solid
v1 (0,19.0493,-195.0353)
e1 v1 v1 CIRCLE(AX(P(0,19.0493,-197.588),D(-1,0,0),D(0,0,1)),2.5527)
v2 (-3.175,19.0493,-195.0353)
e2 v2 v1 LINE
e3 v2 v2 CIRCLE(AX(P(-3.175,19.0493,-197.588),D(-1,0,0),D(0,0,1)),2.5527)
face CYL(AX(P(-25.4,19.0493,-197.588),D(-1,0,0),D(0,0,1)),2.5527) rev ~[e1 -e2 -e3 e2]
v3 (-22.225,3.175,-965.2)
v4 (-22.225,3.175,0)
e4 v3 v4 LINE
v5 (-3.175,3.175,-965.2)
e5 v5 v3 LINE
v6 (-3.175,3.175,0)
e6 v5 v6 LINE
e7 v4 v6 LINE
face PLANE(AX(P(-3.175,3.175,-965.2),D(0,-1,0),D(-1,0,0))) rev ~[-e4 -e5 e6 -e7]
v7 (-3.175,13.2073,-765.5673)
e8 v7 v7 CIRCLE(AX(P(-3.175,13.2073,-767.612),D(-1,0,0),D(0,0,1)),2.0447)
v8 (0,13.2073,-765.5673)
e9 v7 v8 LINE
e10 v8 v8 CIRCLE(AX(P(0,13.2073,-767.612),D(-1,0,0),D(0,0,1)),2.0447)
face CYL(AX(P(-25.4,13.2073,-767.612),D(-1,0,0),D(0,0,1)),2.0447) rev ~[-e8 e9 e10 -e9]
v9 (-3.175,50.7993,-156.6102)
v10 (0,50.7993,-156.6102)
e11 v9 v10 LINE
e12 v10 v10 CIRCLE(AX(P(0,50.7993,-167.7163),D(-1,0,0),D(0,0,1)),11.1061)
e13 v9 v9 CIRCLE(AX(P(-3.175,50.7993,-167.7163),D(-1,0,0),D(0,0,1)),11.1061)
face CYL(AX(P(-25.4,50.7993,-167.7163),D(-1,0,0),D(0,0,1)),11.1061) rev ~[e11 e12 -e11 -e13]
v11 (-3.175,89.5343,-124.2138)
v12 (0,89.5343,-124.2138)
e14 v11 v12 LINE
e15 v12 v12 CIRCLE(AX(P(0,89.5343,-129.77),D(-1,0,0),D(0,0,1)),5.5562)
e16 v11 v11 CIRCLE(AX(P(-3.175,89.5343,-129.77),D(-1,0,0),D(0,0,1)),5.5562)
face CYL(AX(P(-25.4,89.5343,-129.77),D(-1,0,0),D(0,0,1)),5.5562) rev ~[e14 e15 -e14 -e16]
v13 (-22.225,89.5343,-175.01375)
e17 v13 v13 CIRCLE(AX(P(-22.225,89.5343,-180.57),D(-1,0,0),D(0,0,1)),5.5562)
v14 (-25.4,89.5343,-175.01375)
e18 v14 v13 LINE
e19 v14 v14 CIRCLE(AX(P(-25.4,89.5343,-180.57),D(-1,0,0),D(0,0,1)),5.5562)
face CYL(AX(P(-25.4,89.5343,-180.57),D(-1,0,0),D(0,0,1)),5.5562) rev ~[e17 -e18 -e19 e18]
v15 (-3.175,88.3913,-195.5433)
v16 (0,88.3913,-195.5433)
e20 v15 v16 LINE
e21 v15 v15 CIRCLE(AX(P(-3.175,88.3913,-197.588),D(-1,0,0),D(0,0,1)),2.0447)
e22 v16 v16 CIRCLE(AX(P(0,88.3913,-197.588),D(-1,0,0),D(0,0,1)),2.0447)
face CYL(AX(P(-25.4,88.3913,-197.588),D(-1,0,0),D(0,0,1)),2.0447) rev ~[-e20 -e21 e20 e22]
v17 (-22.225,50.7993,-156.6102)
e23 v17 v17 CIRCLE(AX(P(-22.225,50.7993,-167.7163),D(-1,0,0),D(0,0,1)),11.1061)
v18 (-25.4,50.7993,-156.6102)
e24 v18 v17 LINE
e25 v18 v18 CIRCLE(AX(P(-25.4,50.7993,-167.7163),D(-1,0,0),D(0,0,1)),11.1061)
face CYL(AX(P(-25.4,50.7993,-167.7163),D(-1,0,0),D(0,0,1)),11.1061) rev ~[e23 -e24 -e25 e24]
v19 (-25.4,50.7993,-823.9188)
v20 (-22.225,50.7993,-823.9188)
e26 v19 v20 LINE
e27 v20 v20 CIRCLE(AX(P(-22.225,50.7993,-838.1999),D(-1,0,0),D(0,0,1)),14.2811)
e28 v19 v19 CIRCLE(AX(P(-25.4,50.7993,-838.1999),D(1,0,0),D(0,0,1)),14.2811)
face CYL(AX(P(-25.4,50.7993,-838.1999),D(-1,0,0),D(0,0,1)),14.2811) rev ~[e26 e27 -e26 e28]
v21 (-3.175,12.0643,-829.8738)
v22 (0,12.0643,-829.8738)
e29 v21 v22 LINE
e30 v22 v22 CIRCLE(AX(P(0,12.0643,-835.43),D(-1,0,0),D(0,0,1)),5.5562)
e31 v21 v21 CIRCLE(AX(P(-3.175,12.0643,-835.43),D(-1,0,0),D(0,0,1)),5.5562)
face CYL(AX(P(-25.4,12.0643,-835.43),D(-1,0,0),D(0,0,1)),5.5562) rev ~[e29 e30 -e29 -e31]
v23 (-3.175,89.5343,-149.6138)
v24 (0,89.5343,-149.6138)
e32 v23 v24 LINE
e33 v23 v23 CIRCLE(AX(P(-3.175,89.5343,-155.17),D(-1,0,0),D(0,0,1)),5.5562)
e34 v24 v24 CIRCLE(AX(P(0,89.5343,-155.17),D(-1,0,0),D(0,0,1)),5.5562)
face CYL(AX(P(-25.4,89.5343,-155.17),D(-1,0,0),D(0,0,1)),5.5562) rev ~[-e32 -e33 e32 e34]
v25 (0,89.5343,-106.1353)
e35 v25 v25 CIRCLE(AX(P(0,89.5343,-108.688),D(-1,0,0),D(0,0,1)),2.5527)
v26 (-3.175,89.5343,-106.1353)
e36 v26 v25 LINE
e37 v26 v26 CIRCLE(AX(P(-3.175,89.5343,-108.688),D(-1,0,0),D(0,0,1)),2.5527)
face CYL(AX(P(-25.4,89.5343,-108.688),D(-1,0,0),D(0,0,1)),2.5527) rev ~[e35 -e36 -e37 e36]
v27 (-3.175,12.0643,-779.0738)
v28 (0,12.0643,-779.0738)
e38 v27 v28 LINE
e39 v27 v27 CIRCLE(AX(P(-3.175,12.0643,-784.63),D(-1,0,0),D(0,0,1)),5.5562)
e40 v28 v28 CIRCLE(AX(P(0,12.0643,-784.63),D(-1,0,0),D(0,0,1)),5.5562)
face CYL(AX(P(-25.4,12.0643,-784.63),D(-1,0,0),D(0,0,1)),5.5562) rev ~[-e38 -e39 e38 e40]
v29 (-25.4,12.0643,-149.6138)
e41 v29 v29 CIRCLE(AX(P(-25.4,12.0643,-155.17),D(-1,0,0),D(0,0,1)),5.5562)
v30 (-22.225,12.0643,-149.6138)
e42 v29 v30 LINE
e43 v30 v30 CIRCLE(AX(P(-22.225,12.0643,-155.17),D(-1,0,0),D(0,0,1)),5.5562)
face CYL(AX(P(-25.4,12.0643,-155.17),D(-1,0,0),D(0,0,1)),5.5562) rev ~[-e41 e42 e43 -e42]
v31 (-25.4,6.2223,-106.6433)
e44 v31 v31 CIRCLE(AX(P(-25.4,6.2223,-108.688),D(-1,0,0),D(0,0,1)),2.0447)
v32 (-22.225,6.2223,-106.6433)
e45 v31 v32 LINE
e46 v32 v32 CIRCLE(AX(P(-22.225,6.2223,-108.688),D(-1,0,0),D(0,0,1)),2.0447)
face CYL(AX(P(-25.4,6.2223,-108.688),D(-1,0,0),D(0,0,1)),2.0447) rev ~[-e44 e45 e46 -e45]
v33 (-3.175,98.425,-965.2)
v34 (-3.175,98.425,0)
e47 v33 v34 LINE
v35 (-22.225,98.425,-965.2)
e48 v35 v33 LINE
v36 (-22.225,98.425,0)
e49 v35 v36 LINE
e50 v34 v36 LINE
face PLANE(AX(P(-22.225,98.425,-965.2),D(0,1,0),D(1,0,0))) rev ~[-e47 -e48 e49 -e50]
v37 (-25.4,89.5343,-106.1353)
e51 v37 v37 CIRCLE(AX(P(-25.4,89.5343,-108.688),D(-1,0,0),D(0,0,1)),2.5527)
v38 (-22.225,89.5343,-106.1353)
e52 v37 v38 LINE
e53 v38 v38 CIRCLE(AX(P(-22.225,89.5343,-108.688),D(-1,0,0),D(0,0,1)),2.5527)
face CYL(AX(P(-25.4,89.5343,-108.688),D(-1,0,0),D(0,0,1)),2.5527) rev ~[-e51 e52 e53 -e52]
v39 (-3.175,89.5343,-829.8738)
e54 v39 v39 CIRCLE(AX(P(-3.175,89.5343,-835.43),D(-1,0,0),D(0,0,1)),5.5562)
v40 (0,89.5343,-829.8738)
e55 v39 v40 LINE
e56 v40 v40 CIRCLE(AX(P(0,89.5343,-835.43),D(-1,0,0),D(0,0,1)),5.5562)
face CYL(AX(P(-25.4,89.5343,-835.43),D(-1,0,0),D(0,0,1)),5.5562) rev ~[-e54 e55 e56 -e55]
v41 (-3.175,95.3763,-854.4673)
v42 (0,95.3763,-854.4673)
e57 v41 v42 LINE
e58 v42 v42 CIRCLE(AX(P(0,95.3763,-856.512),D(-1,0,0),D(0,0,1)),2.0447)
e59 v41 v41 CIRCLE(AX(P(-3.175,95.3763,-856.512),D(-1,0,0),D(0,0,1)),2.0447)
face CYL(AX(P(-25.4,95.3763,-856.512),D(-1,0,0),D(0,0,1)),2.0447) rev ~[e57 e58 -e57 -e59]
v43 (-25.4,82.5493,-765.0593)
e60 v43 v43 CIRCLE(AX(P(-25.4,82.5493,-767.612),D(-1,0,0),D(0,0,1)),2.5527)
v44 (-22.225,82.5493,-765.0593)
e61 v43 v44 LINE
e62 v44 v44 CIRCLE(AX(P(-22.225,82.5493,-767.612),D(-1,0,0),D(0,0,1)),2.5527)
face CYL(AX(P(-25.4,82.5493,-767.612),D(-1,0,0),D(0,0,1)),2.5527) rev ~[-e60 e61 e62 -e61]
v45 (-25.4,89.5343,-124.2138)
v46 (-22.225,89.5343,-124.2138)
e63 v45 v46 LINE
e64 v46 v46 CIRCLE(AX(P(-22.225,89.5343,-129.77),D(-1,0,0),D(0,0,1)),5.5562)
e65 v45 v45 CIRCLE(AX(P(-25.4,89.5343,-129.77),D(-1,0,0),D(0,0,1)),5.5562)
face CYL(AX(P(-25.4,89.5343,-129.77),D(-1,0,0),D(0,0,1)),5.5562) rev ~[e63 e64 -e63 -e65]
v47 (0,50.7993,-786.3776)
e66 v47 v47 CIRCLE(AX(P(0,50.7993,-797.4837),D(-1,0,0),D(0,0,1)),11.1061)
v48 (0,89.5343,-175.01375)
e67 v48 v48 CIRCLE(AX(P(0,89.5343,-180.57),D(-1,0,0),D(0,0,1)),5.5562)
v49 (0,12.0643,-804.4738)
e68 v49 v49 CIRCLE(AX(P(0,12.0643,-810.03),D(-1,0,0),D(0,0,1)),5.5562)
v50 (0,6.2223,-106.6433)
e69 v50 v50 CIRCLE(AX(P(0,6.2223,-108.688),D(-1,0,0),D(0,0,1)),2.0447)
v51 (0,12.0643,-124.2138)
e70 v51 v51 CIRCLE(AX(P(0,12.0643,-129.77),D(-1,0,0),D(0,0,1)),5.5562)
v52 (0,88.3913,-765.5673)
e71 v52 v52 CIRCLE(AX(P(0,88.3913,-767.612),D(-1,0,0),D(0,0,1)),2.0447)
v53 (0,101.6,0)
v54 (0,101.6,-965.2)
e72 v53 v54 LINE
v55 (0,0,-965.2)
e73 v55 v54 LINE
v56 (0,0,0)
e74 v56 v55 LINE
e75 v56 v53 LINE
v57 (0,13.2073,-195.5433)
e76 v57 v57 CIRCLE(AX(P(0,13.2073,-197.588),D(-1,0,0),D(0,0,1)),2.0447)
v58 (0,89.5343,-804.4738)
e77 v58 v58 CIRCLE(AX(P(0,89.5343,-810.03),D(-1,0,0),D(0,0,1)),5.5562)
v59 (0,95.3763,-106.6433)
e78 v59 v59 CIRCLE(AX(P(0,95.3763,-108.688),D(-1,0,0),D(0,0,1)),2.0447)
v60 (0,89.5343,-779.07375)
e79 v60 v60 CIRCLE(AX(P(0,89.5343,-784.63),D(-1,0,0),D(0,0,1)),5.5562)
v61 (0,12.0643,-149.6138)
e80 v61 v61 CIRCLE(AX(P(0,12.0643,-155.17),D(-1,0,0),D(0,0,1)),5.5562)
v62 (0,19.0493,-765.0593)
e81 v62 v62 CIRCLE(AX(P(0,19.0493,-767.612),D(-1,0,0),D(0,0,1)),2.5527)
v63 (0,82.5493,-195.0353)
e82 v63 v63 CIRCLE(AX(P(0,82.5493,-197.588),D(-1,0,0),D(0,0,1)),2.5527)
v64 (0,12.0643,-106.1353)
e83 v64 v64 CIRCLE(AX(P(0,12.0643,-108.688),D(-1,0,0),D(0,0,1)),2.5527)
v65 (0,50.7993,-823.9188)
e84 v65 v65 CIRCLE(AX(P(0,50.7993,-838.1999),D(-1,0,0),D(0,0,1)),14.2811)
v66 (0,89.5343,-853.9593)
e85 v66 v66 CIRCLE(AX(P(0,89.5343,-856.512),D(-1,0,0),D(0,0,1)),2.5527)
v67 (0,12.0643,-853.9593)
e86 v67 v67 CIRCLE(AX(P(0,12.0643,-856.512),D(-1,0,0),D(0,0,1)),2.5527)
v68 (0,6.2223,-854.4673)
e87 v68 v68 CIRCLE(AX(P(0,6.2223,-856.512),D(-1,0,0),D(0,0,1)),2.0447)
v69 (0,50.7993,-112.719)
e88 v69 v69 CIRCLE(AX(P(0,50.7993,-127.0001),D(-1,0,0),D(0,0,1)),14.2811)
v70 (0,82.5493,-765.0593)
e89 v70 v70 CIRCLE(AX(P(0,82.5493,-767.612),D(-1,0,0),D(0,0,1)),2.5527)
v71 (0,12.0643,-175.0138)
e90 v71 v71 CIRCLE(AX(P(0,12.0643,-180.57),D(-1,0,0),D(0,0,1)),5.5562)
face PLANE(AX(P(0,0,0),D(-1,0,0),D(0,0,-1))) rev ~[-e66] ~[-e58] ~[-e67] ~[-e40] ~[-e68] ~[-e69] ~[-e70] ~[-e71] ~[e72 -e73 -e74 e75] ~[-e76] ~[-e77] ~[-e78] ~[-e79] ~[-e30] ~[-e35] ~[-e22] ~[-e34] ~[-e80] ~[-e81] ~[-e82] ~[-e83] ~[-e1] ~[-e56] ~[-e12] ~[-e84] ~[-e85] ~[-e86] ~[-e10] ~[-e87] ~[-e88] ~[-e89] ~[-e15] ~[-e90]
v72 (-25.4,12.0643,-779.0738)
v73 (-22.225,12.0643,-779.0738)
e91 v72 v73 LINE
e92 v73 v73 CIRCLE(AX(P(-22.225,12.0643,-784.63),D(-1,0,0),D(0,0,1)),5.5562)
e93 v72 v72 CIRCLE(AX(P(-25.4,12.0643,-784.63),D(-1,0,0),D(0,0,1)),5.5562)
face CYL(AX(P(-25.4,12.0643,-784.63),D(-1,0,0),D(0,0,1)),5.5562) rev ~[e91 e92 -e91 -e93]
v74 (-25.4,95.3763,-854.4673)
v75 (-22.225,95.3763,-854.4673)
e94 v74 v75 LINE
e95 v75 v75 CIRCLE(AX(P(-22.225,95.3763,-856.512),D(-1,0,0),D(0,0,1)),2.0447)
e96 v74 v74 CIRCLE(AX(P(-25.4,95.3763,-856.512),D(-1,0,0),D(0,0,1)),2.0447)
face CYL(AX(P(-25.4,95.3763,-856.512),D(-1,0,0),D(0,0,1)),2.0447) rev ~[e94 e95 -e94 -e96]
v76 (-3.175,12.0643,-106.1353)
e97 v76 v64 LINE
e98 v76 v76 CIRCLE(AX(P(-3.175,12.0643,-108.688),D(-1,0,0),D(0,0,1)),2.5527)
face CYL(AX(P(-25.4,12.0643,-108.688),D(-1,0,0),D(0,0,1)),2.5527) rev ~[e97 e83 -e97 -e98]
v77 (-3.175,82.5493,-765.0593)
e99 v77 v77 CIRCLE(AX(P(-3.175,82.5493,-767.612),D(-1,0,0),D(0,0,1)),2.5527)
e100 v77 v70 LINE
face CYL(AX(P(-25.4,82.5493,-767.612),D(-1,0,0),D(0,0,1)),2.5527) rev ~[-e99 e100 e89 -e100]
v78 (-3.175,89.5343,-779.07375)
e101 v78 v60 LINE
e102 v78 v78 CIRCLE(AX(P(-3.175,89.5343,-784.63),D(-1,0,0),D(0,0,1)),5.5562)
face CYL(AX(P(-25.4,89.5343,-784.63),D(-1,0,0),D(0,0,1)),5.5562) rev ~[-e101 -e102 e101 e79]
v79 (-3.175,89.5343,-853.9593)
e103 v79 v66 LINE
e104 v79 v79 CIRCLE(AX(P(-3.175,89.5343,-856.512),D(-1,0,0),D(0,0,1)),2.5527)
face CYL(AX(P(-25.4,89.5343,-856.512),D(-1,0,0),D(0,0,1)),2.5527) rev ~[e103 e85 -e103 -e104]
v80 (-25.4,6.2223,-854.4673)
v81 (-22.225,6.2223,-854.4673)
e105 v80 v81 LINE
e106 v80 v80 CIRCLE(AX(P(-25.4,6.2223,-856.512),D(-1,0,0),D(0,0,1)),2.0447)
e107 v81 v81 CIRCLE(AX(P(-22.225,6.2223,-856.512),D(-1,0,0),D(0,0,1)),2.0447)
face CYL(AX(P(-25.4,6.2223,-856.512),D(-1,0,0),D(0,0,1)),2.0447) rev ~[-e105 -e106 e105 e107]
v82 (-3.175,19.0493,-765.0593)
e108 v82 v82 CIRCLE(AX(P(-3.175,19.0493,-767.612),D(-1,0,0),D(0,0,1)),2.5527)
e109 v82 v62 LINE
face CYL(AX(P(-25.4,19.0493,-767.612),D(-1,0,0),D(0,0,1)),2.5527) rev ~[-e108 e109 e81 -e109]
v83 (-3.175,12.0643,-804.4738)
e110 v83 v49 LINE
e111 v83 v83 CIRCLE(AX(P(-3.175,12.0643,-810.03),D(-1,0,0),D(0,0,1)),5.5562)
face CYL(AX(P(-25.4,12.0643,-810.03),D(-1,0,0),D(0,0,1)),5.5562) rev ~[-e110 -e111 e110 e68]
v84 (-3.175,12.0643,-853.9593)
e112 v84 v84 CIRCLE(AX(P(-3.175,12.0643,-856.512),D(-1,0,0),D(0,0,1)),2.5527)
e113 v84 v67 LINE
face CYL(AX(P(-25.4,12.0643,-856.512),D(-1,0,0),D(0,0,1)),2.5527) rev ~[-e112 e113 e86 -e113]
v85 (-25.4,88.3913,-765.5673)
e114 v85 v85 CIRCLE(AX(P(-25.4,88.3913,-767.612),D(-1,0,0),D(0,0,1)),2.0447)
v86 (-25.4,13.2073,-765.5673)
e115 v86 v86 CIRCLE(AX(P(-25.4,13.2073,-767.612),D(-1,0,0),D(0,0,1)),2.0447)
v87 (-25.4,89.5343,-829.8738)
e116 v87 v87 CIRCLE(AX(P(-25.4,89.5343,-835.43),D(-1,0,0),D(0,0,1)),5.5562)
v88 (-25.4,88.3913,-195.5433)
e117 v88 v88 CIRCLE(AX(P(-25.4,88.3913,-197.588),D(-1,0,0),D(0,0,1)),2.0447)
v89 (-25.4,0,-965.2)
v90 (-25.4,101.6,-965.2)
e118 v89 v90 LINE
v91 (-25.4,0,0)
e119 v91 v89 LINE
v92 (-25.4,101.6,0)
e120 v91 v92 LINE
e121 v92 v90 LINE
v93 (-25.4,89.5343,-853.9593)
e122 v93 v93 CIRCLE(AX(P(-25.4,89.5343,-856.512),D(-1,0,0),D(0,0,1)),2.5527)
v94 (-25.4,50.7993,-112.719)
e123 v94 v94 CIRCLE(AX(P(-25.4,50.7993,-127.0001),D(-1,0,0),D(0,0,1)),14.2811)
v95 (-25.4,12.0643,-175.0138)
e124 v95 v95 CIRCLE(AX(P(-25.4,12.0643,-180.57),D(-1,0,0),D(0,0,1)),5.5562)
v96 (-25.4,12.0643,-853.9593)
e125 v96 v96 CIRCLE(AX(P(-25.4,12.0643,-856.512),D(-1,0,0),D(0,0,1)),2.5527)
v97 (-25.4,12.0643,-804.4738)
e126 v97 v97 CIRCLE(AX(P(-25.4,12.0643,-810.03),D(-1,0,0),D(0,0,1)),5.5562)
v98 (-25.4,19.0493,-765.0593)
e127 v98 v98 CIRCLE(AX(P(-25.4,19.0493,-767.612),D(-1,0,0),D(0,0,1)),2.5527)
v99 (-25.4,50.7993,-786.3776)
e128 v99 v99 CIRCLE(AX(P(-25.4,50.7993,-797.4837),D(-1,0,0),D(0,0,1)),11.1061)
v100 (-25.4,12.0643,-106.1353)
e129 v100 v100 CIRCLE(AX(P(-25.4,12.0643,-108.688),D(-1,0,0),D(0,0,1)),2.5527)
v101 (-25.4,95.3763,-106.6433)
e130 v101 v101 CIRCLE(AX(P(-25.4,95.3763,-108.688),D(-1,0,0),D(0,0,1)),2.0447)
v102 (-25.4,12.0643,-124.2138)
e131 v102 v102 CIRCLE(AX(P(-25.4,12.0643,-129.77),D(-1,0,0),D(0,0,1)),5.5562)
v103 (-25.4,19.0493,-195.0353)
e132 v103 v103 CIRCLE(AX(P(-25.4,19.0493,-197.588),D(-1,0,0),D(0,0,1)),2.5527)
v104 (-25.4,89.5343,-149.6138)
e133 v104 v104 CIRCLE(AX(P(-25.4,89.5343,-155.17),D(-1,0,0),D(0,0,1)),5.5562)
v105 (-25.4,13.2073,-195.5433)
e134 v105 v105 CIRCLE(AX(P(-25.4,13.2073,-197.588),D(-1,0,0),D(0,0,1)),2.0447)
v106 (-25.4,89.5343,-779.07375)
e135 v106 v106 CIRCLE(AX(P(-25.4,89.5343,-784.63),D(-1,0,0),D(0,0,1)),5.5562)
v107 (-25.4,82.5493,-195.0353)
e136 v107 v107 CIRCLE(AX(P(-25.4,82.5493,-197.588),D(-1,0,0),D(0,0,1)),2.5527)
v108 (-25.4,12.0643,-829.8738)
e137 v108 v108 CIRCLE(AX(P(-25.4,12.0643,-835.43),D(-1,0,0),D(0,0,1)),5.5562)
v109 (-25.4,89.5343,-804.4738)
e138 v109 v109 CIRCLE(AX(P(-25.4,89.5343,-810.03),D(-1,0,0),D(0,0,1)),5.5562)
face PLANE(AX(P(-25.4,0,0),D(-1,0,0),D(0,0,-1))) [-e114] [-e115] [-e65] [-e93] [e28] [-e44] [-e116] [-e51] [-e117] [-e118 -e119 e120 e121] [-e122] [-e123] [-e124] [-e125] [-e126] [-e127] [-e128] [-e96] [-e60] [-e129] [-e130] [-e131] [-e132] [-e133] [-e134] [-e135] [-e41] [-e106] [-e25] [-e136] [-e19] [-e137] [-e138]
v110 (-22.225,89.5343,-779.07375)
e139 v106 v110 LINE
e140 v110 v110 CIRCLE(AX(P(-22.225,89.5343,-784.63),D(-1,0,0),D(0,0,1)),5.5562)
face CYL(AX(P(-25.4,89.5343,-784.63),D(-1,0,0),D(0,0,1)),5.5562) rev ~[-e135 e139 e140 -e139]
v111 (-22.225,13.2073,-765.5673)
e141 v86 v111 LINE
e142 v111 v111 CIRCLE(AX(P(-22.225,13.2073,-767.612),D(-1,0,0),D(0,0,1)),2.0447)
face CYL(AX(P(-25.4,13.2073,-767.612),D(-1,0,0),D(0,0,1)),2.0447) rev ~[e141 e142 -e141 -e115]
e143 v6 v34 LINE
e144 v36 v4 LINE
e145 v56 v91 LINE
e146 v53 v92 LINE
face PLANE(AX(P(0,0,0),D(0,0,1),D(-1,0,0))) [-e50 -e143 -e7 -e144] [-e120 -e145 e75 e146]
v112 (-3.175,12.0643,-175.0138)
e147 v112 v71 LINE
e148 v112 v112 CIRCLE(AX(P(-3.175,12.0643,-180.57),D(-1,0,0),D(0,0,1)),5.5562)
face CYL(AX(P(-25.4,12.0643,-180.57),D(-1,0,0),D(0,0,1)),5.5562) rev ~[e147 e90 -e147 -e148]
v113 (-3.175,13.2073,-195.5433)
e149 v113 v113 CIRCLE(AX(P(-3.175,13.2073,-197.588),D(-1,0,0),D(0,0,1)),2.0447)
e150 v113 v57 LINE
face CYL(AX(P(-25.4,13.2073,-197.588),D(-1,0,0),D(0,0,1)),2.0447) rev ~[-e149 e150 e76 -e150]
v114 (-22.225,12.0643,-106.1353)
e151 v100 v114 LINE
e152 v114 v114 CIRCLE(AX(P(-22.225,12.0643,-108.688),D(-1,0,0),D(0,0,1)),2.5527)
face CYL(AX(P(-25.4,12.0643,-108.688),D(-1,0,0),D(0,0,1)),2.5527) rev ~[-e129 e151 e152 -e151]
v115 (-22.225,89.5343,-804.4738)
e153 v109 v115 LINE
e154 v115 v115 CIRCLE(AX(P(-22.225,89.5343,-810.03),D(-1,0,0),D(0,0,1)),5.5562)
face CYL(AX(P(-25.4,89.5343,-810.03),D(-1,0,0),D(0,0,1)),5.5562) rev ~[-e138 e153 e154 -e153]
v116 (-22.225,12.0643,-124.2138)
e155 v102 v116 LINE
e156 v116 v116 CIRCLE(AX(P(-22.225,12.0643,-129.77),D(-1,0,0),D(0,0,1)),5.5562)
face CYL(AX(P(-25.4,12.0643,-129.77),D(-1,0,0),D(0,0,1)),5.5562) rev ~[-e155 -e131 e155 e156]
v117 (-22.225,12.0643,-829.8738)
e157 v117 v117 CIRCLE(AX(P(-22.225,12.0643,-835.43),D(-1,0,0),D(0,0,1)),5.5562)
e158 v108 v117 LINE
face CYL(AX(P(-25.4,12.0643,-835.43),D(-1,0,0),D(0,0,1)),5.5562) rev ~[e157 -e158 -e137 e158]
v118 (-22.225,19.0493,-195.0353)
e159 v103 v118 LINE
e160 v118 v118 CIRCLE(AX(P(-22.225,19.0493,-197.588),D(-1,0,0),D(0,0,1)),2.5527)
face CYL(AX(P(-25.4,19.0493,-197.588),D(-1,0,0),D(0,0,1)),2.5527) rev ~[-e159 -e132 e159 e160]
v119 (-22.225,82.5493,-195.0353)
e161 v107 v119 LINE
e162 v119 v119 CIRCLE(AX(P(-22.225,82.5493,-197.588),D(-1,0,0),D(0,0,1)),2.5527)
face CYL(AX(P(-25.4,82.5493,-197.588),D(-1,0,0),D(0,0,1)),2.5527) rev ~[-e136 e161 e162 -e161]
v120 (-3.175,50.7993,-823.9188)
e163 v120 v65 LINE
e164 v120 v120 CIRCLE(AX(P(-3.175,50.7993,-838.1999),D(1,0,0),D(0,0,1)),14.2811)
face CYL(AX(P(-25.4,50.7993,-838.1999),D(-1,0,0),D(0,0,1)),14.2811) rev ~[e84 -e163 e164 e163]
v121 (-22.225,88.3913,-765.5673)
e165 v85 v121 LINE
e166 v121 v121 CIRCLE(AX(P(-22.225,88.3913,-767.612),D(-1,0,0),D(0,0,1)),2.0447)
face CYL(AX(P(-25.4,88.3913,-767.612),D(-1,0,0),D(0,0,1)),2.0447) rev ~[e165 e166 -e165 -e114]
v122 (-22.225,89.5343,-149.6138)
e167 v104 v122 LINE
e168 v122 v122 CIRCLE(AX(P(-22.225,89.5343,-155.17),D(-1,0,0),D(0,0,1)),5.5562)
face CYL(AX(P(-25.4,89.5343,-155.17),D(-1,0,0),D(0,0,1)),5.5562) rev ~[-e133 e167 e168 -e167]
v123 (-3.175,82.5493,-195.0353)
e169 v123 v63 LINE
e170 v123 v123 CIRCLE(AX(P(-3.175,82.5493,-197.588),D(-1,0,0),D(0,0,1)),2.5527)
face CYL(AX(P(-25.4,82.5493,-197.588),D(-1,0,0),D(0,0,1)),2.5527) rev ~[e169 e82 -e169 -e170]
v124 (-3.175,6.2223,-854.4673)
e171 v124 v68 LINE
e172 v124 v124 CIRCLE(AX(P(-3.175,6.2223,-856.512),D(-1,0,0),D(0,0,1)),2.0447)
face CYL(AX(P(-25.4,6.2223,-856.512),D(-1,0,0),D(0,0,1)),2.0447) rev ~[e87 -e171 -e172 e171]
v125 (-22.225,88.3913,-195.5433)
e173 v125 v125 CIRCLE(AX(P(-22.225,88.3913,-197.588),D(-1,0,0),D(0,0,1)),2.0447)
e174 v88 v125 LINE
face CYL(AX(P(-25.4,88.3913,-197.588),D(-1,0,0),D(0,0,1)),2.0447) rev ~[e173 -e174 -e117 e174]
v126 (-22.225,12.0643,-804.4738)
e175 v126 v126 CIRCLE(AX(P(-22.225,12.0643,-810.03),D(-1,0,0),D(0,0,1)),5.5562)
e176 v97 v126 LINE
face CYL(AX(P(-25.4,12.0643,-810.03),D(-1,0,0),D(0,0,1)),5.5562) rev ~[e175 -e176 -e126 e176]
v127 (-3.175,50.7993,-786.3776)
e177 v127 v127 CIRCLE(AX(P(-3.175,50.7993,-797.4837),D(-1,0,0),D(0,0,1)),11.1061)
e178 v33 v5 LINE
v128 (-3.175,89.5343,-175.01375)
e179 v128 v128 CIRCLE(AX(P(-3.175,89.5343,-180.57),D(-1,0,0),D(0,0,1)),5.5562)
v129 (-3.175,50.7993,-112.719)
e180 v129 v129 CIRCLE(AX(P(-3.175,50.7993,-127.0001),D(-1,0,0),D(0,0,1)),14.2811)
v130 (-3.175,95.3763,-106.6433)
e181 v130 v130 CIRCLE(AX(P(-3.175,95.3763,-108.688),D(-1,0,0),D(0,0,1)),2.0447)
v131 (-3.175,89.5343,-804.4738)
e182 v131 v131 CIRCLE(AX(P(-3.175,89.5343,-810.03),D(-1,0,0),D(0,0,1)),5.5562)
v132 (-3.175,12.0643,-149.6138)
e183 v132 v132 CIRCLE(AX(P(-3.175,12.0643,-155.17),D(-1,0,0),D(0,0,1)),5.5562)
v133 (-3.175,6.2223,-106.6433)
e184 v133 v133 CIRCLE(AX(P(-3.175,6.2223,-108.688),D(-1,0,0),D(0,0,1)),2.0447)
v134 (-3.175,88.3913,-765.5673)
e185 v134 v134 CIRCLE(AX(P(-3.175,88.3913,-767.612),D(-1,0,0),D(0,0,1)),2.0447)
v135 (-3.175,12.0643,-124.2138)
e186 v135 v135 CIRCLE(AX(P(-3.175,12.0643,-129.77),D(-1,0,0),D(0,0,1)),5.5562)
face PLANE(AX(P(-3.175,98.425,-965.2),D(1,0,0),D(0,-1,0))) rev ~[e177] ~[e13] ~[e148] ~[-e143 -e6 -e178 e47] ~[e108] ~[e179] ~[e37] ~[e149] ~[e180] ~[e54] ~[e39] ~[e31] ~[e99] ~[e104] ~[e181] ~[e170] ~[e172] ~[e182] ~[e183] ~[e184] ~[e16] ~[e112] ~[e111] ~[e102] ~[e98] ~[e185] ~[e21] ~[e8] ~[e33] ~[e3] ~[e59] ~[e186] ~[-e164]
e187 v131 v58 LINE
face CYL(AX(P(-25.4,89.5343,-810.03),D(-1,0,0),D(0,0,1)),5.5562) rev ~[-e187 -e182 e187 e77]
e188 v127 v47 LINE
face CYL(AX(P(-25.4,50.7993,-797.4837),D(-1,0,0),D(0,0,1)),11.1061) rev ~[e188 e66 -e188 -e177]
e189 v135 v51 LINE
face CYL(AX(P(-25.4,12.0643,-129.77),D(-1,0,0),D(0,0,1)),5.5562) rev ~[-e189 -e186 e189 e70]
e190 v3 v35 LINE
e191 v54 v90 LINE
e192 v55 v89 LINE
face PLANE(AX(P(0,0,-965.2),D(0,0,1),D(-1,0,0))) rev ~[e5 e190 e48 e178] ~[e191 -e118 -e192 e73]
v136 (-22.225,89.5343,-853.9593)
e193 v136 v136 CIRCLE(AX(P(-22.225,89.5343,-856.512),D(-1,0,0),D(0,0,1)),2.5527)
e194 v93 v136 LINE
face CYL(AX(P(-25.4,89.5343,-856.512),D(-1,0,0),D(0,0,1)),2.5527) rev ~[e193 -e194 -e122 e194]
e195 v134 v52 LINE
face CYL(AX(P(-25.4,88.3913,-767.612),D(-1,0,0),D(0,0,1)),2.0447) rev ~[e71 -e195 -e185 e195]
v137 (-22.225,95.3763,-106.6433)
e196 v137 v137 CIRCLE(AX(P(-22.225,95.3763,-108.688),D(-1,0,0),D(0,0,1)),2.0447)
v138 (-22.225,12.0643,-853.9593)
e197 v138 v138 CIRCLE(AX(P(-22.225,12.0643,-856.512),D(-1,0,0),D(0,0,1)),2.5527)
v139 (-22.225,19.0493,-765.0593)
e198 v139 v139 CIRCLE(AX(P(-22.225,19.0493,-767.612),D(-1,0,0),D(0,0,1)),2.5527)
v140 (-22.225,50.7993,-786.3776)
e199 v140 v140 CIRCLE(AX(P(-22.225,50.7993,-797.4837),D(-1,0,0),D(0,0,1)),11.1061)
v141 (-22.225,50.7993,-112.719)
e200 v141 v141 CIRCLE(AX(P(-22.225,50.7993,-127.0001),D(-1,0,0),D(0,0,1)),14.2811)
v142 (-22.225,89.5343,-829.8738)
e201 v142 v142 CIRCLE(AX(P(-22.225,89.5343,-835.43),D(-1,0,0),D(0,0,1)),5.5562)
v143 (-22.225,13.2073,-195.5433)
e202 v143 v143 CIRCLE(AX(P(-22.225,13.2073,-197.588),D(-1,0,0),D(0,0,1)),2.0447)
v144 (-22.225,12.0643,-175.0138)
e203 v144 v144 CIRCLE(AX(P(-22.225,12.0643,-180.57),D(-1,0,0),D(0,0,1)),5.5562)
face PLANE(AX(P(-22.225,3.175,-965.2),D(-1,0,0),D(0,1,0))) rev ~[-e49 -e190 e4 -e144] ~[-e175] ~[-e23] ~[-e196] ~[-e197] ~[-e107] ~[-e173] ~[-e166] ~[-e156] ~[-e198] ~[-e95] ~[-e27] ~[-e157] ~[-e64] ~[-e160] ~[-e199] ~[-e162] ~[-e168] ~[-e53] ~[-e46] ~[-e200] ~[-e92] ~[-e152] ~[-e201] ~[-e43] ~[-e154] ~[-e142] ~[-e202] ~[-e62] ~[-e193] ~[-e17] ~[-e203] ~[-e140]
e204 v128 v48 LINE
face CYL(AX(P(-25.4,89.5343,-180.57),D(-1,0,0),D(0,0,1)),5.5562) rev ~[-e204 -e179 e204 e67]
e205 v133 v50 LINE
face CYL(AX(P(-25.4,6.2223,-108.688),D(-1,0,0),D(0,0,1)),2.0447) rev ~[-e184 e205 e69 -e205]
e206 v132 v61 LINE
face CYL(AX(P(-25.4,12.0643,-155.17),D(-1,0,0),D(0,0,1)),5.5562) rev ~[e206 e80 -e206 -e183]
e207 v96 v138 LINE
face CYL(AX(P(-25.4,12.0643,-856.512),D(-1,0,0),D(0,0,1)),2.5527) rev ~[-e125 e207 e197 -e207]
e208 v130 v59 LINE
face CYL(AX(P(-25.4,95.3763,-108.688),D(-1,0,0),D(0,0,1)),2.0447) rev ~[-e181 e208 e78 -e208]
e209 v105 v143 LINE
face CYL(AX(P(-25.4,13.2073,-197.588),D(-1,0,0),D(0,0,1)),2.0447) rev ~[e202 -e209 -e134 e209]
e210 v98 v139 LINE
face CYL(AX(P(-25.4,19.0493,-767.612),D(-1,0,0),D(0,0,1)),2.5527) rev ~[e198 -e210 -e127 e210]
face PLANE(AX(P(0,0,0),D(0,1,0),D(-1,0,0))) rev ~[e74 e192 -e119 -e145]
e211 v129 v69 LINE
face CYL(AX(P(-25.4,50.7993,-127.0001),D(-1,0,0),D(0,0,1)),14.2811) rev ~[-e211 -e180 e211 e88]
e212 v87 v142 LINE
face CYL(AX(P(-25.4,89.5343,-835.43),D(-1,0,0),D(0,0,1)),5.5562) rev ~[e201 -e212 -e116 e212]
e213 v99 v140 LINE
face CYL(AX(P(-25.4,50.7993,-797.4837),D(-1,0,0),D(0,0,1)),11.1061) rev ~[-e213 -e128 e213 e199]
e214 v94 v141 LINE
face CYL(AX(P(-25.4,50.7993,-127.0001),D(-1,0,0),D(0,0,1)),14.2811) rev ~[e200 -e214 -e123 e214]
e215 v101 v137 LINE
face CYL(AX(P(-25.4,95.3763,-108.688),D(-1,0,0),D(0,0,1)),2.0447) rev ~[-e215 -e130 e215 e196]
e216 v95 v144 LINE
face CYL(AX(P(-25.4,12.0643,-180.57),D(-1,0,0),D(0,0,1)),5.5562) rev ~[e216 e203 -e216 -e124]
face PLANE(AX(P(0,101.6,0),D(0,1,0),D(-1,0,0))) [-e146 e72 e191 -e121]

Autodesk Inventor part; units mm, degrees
ref_plane "YZ Plane" through (0, 0, 0) normal (1, 0, 0) x (0, 1, 0)
ref_plane "XZ Plane" through (0, 0, 0) normal (0, 1, 0) x (-1, 0, 0)
ref_plane "XY Plane" through (0, 0, 0) normal (0, 0, 1) x (1, 0, 0)
sketch "Sketch1" plane through (0, 0, 0) normal (0, 1, 0) x (-1, 0, 0)
  line L0 (0, 0) -> (0, -965.2)
  line L1 (0, -965.2) -> (25.4, -965.2)
  line L2 (0, 0) -> (25.4, 0)
  line L3 (25.4, 0) -> (25.4, -965.2)
  dimension "d0" = 965.2
  dimension "d1" = 25.4
  dimension "d2" = 25.4
  dimension "d3" = 965.2
extrude "Extrusion1" add sketch "Sketch1" along normal blind 101.6
sketch "Sketch2" plane through (0, 0, -965.2) normal (0, 0, -1) x (-1, 0, 0)
  line L0 (0, 101.6) -> (25.4, 101.6) projected
  line L1 (22.225, 98.425) -> (3.175, 98.425)
  line L2 (3.175, 98.425) -> (3.175, 3.175)
  line L3 (3.175, 3.175) -> (22.225, 3.175)
  line L4 (22.225, 3.175) -> (22.225, 98.425)
  point P0 (0, 0)
  dimension "d8" = 19.05
  dimension "d9" = 95.25
  dimension "d10" = 19.05
extrude "Extrusion2" cut sketch "Sketch2" against normal blind 2540
sketch "Sketch3" plane through (-25.4, 0, -965.2) normal (-1, 0, 0) x (0, 0, 1)
  line L0 (89.1033, 114.2993) -> (200.7415, 105.2475)
  arc A0 (206.5783, 98.9183) -> (200.7415, 105.2475) centre (200.2283, 98.9183) ccw
  line L1 (206.5783, 98.9183) -> (206.5783, 2.6802)
  arc A1 (200.7415, -3.649) -> (206.5783, 2.6802) centre (200.2283, 2.6802) ccw
  line L2 (200.7415, -3.649) -> (89.1033, -12.7007)
  line L3 (89.1033, -12.7007) -> (87.4523, -12.7007)
  line L4 (87.4523, 114.2993) -> (87.4523, -12.7007)
  line L5 (87.4523, 114.2993) -> (89.1033, 114.2993)
  circle A2 centre (108.688, 6.2223) radius 2.0447
  circle A3 centre (197.588, 88.3913) radius 2.0447
  circle A4 centre (108.688, 12.0643) radius 2.5527
  circle A5 centre (197.588, 82.5493) radius 2.5527
  circle A6 centre (180.57, 12.0643) radius 5.5562
  circle A7 centre (129.77, 12.0643) radius 5.5562
  circle A8 centre (180.57, 89.5343) radius 5.5562
  circle A9 centre (167.7163, 50.7993) radius 11.1061
  circle A10 centre (155.17, 89.5343) radius 5.5562
  circle A11 centre (129.77, 89.5343) radius 5.5562
  circle A12 centre (155.17, 12.0643) radius 5.5562
  circle A13 centre (127.0001, 50.7993) radius 14.2811
  circle A14 centre (197.588, 19.0493) radius 2.5527
  circle A15 centre (108.688, 89.5343) radius 2.5527
  circle A16 centre (197.588, 13.2073) radius 2.0447
  circle A17 centre (108.688, 95.3763) radius 2.0447
  circle A18 centre (197.588, 13.2073) radius 2.0447
  circle A19 centre (197.588, 19.0493) radius 2.5527
  circle A20 centre (197.588, 82.5493) radius 2.5527
  circle A21 centre (197.588, 88.3913) radius 2.0447
  circle A22 centre (167.7163, 50.7993) radius 11.1061
  circle A23 centre (180.57, 89.5343) radius 5.5563
  circle A24 centre (155.17, 89.5343) radius 5.5562
  circle A25 centre (129.77, 89.5343) radius 5.5562
  circle A26 centre (127.0001, 50.7993) radius 14.2811
  circle A27 centre (129.77, 12.0643) radius 5.5562
  circle A28 centre (155.17, 12.0643) radius 5.5562
  circle A29 centre (180.57, 12.0643) radius 5.5562
  circle A30 centre (108.688, 89.5343) radius 2.5527
  circle A31 centre (108.688, 95.3763) radius 2.0447
  circle A32 centre (108.688, 12.0643) radius 2.5527
  circle A33 centre (108.688, 6.2223) radius 2.0447
  line L6 (0, 101.6) -> (0, 50.8)
  line L7 (965.2, 101.6) -> (965.2, 50.8)
  line L8 (965.2, 3.175) -> (965.2, 98.425) projected
  line L9 (0, 50.8) -> (127, 50.8)
  line L10 (965.2, 50.8) -> (838.2, 50.8)
  line L11 (965.2, 101.6) -> (0, 101.6) projected
  line L12 (482.6, 101.6) -> (482.6, 3.175)
  circle A34 centre (767.612, 88.3913) radius 2.0447
  arc A35 (764.4585, 105.2475) -> (758.6217, 98.9183) centre (764.9717, 98.9183) ccw
  circle A36 centre (767.612, 82.5493) radius 2.5527
  circle A37 centre (767.612, 82.5493) radius 2.5527
  line L13 (758.6217, 98.9183) -> (758.6217, 2.6802)
  arc A38 (758.6217, 2.6802) -> (764.4585, -3.649) centre (764.9717, 2.6802) ccw
  circle A39 centre (767.612, 88.3913) radius 2.0447
  circle A40 centre (784.63, 89.5343) radius 5.5562
  circle A41 centre (784.63, 89.5343) radius 5.5563
  circle A42 centre (810.03, 89.5343) radius 5.5562
  circle A43 centre (810.03, 89.5343) radius 5.5562
  line L14 (764.4585, -3.649) -> (876.0967, -12.7007)
  line L15 (877.7477, 114.2993) -> (877.7477, -12.7007)
  circle A44 centre (835.43, 89.5343) radius 5.5562
  circle A45 centre (835.43, 89.5343) radius 5.5562
  line L16 (876.0967, 114.2993) -> (764.4585, 105.2475)
  circle A46 centre (856.512, 95.3763) radius 2.0447
  circle A47 centre (856.512, 95.3763) radius 2.0447
  circle A48 centre (856.512, 89.5343) radius 2.5527
  circle A49 centre (856.512, 89.5343) radius 2.5527
  line L17 (877.7477, 114.2993) -> (876.0967, 114.2993)
  line L18 (876.0967, -12.7007) -> (877.7477, -12.7007)
  circle A50 centre (856.512, 6.2223) radius 2.0447
  circle A51 centre (856.512, 12.0643) radius 2.5527
  circle A52 centre (856.512, 6.2223) radius 2.0447
  circle A53 centre (856.512, 12.0643) radius 2.5527
  circle A54 centre (835.43, 12.0643) radius 5.5562
  circle A55 centre (835.43, 12.0643) radius 5.5562
  circle A56 centre (838.1999, 50.7993) radius 14.2811
  circle A57 centre (838.1999, 50.7993) radius 14.2811
  circle A58 centre (810.03, 12.0643) radius 5.5562
  circle A59 centre (810.03, 12.0643) radius 5.5562
  circle A60 centre (784.63, 12.0643) radius 5.5562
  circle A61 centre (784.63, 12.0643) radius 5.5562
  circle A62 centre (767.612, 13.2073) radius 2.0447
  circle A63 centre (767.612, 13.2073) radius 2.0447
  circle A64 centre (767.612, 19.0493) radius 2.5527
  circle A65 centre (767.612, 19.0493) radius 2.5527
  circle A66 centre (797.4837, 50.7993) radius 11.1061
  circle A67 centre (797.4837, 50.7993) radius 11.1061
  point P0 (965.2, 0)
  point P1 (758.7399, 264.0927)
  point P2 (0, 76.2)
  dimension "d13" = 50.8
  dimension "d15" = 50.8
  dimension "d216" = 127
  dimension "d217" = 127
extrude "Extrusion7" cut sketch "Sketch3" against normal blind 2540 contours A13
extrude "Extrusion8" cut sketch "Sketch3" against normal blind 2540 contours A2 | A3 | A4 | A5 | A6 | A7 | A8 | A9 | A10 | A11 | A12 | A14 | A15 | A16 | A17
extrude "Extrusion11" cut sketch "Sketch3" against normal through all contours A56 | A13 | A2 | A3 | A4 | A5 | A6 | A7 | A8 | A9 | A10 | A11 | A12 | A14 | A15 | A16 | A17 | A34 | A36 | A40 | A42 | A44 | A46 | A48 | A50 | A51 | A54 | A58 | A60 | A62 | A64 | A66
properties part number "boxbeam 4x1 with sideways holes"
